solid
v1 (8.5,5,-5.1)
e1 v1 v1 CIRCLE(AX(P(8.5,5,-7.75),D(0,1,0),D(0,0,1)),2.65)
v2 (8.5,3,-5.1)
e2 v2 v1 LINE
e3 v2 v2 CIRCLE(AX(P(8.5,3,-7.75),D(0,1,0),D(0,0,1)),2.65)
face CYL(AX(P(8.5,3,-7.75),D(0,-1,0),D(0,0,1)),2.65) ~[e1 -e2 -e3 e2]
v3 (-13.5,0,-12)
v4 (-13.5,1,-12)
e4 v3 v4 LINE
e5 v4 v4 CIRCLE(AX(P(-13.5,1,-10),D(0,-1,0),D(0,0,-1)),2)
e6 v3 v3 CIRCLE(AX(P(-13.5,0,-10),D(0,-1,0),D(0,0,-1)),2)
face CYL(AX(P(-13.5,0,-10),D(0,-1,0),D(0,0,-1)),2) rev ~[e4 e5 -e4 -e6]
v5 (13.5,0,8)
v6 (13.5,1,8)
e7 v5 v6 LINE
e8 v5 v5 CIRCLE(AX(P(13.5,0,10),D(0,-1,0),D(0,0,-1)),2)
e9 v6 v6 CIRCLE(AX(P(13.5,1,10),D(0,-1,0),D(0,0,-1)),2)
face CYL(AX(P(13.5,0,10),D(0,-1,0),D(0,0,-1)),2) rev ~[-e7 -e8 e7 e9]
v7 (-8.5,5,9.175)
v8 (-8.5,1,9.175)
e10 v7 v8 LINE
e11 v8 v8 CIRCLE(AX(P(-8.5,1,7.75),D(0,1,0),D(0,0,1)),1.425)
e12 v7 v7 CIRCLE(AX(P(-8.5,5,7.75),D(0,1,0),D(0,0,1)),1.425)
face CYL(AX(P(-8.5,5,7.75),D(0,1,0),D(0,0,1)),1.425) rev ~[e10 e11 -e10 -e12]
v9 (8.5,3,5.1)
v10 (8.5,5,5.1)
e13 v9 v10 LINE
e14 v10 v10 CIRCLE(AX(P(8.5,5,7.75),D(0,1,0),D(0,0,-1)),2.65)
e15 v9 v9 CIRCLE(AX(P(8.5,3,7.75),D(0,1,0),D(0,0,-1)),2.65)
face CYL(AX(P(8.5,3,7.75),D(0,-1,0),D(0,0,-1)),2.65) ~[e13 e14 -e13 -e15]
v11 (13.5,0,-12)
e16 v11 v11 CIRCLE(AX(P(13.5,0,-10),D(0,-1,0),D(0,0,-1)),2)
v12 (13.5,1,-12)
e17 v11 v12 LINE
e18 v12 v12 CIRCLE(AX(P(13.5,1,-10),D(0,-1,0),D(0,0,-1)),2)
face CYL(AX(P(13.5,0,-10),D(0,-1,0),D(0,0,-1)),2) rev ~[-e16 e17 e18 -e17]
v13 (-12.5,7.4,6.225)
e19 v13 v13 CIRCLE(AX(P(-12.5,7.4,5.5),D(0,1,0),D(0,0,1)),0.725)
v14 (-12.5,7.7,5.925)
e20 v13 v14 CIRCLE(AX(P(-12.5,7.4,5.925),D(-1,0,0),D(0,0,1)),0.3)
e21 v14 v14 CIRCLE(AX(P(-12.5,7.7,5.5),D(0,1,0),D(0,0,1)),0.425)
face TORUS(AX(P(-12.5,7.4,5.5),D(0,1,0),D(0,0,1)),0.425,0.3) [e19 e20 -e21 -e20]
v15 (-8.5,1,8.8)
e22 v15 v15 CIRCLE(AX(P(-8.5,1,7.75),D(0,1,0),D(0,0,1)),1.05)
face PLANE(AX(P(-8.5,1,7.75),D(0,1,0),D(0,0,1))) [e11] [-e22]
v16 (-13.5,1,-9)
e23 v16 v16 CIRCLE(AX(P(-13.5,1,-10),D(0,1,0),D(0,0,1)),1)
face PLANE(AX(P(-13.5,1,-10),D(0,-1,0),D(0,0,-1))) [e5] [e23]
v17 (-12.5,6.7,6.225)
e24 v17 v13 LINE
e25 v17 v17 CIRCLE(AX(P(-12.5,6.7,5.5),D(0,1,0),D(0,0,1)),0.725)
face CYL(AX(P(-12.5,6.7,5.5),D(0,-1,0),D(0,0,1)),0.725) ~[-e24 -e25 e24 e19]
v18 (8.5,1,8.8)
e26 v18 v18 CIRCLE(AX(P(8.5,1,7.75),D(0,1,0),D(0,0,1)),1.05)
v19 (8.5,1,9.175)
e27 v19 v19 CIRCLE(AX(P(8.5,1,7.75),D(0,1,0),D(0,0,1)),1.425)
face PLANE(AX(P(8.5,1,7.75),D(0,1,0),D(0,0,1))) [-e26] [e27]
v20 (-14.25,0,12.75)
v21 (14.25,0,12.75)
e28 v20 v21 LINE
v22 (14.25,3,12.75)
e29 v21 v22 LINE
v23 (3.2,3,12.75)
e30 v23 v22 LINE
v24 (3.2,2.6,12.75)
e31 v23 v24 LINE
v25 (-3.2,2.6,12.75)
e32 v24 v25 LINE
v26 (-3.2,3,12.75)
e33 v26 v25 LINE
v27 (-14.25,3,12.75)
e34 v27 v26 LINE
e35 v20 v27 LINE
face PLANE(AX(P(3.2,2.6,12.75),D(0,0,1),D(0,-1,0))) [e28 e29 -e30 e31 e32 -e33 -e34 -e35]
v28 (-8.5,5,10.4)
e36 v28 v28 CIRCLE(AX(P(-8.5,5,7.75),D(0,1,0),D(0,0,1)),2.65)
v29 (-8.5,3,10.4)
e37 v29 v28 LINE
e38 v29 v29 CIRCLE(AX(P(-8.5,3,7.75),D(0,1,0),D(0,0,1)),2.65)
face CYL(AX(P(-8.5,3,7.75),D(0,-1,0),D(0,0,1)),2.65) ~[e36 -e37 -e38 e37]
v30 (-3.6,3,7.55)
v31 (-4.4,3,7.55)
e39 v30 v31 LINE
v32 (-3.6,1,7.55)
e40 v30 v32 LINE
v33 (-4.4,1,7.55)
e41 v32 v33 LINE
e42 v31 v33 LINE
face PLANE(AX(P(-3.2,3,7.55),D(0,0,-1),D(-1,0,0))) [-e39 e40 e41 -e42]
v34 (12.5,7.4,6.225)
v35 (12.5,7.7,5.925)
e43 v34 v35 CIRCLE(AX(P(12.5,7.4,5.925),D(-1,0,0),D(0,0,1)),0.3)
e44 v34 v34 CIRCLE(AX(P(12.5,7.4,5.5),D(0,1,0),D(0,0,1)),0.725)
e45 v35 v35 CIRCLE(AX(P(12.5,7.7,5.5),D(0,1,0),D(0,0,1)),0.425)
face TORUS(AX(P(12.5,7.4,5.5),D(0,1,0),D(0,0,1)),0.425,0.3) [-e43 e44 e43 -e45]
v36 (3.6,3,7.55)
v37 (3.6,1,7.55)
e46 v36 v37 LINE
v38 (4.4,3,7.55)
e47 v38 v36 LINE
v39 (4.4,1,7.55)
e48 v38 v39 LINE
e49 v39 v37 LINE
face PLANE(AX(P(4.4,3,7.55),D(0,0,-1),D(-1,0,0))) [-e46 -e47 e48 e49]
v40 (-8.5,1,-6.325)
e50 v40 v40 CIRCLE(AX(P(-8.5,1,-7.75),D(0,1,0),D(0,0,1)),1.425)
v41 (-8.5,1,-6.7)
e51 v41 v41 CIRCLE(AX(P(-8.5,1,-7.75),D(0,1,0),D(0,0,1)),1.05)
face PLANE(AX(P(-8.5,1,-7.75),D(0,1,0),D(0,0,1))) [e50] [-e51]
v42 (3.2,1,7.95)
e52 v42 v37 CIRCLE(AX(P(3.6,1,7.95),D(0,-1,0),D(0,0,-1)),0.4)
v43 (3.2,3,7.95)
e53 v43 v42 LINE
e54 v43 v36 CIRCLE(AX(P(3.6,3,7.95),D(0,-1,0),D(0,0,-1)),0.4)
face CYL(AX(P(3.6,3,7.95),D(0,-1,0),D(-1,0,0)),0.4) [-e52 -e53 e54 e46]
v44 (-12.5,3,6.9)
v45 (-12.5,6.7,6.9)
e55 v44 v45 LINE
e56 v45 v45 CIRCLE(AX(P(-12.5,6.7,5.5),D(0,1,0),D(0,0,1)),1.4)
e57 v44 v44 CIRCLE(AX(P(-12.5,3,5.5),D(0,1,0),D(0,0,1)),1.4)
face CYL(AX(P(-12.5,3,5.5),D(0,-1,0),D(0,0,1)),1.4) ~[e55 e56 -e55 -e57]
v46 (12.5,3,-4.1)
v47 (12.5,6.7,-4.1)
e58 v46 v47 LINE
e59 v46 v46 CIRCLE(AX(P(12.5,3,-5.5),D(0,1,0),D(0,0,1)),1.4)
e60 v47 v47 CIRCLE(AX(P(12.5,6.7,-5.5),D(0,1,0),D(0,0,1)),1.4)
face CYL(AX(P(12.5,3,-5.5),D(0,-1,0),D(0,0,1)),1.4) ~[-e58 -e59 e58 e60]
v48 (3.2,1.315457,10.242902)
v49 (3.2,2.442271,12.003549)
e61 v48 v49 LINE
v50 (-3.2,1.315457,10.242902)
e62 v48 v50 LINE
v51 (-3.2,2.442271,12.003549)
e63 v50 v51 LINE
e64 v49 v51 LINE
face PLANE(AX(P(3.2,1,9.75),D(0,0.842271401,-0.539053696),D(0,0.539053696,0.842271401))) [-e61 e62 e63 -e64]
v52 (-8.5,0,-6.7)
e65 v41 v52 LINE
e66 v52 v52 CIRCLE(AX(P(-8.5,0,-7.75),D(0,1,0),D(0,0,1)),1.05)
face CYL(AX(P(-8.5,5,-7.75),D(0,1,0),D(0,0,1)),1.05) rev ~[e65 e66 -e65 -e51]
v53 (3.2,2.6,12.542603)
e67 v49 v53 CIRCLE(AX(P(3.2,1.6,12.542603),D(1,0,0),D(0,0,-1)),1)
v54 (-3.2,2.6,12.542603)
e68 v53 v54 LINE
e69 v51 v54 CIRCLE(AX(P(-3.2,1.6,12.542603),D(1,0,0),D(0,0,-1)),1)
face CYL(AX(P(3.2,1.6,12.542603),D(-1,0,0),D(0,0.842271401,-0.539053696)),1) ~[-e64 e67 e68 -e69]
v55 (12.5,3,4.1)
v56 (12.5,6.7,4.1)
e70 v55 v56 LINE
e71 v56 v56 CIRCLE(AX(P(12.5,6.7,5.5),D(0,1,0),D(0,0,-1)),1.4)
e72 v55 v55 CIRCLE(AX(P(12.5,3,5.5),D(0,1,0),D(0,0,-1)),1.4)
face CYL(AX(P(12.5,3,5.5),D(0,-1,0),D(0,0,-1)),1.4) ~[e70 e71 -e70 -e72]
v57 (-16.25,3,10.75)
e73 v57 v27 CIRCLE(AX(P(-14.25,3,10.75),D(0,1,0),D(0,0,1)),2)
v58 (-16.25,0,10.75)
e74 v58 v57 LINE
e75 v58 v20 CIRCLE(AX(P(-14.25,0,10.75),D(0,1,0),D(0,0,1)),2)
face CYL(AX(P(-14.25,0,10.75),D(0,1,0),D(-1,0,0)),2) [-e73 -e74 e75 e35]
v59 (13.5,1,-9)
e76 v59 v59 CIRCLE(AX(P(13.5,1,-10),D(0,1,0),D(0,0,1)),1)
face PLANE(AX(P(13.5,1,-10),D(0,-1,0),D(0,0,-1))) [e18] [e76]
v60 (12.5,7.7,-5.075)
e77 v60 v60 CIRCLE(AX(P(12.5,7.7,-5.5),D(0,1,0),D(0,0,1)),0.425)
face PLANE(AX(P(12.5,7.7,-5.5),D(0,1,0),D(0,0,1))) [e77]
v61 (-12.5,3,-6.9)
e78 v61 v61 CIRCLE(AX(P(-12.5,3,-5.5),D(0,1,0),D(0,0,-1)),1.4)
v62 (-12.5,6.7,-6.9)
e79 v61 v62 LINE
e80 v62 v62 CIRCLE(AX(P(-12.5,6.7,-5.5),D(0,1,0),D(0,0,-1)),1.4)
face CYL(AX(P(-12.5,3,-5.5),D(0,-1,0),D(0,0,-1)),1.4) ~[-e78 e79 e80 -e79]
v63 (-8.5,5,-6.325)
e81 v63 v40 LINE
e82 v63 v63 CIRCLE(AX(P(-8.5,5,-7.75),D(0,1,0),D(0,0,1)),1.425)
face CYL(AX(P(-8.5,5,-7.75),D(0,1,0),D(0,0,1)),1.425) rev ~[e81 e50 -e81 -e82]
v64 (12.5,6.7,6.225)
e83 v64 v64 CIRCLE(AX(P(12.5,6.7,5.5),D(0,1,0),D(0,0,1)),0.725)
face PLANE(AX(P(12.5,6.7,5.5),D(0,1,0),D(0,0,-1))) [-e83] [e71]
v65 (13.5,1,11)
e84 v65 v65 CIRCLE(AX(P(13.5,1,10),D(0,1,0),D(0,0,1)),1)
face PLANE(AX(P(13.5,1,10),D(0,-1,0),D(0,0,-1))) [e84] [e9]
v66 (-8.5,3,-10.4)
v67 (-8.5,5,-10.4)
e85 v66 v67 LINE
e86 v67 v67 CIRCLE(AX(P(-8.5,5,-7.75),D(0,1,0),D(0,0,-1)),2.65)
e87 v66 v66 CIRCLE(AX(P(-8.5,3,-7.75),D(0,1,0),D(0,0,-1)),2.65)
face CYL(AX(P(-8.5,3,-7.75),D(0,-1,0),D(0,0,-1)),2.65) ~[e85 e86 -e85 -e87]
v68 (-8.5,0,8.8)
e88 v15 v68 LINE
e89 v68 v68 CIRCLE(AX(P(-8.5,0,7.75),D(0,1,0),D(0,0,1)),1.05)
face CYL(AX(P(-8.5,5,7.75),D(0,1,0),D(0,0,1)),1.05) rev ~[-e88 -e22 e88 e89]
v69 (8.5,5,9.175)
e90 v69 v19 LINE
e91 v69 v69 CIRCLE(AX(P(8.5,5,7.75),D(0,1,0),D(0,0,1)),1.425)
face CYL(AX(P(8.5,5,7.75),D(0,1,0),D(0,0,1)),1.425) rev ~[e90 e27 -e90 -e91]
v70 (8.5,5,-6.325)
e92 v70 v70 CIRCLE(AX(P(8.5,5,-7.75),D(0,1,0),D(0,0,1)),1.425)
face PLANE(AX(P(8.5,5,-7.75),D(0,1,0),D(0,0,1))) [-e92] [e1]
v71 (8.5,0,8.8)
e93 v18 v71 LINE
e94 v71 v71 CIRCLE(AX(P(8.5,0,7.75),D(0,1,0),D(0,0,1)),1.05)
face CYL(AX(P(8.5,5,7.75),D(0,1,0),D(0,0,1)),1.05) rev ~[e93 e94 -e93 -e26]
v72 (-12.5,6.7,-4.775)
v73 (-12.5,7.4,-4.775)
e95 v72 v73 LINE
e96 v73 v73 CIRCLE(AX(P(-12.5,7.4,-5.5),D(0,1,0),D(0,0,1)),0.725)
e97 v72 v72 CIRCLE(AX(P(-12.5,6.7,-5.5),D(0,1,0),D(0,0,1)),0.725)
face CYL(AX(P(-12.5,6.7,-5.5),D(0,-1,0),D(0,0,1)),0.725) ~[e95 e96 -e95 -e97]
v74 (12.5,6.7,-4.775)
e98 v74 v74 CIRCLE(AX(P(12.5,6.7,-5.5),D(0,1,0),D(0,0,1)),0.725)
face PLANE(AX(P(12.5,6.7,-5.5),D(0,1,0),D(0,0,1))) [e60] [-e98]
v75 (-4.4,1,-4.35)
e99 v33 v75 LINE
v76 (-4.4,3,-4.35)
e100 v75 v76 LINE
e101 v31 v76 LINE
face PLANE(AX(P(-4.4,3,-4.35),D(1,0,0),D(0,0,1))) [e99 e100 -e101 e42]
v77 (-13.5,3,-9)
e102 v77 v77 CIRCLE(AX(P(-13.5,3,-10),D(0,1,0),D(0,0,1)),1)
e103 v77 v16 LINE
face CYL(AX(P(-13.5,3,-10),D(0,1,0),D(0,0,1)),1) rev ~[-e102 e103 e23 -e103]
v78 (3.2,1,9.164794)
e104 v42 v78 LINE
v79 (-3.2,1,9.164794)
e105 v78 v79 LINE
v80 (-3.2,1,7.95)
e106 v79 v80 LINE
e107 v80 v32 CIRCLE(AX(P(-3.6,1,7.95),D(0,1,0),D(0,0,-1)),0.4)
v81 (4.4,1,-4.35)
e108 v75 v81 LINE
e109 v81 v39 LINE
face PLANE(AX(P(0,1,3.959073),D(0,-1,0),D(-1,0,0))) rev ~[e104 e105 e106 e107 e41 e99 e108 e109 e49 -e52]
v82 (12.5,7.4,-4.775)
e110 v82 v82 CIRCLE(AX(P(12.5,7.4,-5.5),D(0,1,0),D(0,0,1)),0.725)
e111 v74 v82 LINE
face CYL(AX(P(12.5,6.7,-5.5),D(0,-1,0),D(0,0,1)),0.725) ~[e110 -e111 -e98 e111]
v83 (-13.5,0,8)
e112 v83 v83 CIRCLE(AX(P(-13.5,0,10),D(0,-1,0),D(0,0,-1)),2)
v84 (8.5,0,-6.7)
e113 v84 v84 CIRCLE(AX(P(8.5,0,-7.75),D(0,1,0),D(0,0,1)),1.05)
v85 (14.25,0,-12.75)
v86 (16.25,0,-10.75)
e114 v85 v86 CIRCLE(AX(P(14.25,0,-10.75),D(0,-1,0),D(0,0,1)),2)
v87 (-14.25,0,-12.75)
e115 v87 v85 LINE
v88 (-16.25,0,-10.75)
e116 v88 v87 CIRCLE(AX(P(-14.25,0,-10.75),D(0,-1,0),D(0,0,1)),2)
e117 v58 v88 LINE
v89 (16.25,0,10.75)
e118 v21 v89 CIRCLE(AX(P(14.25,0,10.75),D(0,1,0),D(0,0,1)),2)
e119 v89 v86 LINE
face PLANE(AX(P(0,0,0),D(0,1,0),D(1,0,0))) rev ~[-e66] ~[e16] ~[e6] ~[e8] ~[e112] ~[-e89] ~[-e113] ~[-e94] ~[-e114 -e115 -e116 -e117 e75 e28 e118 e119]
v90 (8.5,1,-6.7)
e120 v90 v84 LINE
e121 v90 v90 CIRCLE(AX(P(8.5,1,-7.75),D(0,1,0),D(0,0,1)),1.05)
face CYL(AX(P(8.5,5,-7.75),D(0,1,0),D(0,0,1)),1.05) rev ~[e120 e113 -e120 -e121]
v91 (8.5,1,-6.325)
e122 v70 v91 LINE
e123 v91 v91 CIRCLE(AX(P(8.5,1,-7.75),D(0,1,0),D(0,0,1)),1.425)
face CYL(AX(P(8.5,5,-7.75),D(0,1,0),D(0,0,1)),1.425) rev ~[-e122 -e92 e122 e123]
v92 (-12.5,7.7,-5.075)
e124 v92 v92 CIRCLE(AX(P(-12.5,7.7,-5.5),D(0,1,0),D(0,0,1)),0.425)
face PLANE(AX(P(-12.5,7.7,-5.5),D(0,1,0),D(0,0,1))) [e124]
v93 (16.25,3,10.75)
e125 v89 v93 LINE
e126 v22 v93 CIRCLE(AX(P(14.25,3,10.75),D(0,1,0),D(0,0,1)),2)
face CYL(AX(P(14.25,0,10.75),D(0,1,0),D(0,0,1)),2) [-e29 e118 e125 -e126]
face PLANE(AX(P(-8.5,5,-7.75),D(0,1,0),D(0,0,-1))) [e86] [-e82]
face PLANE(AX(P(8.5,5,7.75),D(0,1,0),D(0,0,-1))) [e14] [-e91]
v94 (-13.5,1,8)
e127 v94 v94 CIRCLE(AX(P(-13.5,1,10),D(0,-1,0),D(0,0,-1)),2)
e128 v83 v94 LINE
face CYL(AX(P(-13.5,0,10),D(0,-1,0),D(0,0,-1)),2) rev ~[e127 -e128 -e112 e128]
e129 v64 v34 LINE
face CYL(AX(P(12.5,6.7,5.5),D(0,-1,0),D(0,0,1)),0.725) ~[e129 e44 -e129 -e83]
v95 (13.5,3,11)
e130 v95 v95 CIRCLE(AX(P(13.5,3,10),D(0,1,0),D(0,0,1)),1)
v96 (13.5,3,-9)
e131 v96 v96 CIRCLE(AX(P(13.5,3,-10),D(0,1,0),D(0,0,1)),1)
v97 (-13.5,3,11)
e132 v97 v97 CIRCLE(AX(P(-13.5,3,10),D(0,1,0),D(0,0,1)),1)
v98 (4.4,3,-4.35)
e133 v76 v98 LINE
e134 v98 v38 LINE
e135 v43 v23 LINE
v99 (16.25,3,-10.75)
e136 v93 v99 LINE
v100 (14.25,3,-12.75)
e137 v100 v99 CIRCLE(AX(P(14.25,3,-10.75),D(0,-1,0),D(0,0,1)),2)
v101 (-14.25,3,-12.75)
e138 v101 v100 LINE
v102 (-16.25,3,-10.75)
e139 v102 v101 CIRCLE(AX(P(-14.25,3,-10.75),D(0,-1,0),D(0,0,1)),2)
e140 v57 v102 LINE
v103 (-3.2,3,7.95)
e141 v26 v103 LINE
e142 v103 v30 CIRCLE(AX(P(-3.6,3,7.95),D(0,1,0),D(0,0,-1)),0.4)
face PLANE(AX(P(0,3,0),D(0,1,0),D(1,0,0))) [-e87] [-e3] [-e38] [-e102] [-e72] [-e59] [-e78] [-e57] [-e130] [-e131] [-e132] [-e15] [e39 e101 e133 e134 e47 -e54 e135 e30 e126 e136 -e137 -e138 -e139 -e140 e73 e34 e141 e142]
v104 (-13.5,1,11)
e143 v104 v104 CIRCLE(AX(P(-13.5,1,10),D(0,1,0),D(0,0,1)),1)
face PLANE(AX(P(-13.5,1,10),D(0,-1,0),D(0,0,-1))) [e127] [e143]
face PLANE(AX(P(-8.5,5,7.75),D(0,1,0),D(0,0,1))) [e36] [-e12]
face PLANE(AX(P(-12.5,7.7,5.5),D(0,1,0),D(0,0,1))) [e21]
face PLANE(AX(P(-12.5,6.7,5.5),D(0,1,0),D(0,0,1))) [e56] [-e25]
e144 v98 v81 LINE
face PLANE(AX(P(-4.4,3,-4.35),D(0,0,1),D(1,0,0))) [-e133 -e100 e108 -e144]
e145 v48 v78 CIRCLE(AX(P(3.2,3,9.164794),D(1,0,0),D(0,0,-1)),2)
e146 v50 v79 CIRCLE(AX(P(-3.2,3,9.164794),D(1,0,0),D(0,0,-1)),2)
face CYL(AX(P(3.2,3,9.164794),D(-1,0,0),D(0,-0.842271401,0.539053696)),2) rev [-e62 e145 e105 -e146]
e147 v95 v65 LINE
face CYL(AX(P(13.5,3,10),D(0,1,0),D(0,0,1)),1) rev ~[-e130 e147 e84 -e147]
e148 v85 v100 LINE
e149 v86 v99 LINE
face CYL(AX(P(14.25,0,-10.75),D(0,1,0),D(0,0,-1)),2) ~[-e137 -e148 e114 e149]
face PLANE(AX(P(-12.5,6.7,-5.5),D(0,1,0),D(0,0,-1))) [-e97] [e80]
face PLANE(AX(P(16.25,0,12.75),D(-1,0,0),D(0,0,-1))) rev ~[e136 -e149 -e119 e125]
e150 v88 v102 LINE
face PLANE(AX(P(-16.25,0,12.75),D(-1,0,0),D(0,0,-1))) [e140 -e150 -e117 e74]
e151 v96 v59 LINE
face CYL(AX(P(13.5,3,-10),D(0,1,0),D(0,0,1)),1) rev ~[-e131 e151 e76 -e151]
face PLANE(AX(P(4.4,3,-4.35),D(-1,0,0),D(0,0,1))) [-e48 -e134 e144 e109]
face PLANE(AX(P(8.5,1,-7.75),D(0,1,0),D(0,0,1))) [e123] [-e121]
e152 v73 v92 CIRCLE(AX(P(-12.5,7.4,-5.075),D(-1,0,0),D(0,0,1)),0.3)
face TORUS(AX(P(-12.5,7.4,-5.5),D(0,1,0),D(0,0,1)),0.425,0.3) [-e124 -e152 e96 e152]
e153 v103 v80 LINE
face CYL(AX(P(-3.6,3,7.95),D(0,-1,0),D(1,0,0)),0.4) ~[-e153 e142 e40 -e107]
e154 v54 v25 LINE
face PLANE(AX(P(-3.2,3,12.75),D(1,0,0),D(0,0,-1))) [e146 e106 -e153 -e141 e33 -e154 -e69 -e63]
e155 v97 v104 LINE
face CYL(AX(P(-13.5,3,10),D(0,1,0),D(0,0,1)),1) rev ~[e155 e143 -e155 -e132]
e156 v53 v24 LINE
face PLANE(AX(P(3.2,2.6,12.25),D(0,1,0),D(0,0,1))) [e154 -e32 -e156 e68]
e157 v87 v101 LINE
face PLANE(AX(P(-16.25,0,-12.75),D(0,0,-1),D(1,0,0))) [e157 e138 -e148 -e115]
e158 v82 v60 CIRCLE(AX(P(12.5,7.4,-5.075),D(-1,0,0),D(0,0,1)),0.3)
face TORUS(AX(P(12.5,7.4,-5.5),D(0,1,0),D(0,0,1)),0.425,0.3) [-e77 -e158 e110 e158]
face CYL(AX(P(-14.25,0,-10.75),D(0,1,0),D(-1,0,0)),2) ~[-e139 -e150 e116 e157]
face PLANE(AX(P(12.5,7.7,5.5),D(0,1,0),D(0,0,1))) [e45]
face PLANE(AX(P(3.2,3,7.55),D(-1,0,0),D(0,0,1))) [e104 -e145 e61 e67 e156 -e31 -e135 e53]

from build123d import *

# Parameters (mm, degrees)
SKETCH_1_W          = 32.5
SKETCH_1_H          = 25.5
EXTRUDE_1_DEPTH     = 3
EXTRUDE_2_DEPTH     = 1.5
SKETCH_5_R          = 1.4
EXTRUDE_3_DEPTH     = 3.7
SKETCH_6_R          = 0.725
EXTRUDE_4_DEPTH     = 1
SKETCH_7_R          = 1
CUT_EXTRUDE_1_DEPTH = 10
SKETCH_8_R          = 2
CUT_EXTRUDE_2_DEPTH = 1
FILLET_1_R          = 2
SKETCH_9_R          = 2.65
EXTRUDE_5_DEPTH     = 2
SKETCH_11_R         = 1.05
CUT_EXTRUDE_4_DEPTH = 100
SKETCH_12_R         = 1.425
CUT_EXTRUDE_5_DEPTH = 4
FILLET_2_R          = 0.3
CUT_EXTRUDE_8_DEPTH = 2
CUT_EXTRUDE_9_DEPTH = 1.5
EXTRUDE_6_DEPTH     = 6.4
FILLET_3_R          = 2
FILLET_5_R          = 1
FILLET_6_R          = 0.4


with BuildPart() as part:
    # 草图1 → 凸台-拉伸1 (new body)
    with BuildSketch(Plane(origin=(0, 0, 0), x_dir=(1, 0, 0), z_dir=(0, 1, 0))):
        Rectangle(SKETCH_1_W, SKETCH_1_H)
    extrude(amount=EXTRUDE_1_DEPTH)

    # 草图2 → 凸台-拉伸2 (add)
    with BuildSketch(Plane(origin=(0, 3, 0), x_dir=(1, 0, 0), z_dir=(0, 1, 0))):
        Polygon((-5.4, 5.35), (5.4, 5.35), (5.4, -7.55), (4.4, -7.55), (4.4, 4.35), (-4.4, 4.35), (-4.4, -7.55), (-5.4, -7.55), align=None)
    extrude(amount=EXTRUDE_2_DEPTH)

    # 草图5 → 凸台-拉伸3 (add)
    with BuildSketch(Plane(origin=(0, 3, 0), x_dir=(1, 0, 0), z_dir=(0, 1, 0))):
        with Locations(Location((12.5, 5.5, 0), (0, 0, 270))):
            Circle(SKETCH_5_R)
        with Locations(Location((12.5, -5.5, 0), (0, 0, 90))):
            Circle(SKETCH_5_R)
        with Locations(Location((-12.5, -5.5, 0), (0, 0, 270))):
            Circle(SKETCH_5_R)
        with Locations(Location((-12.5, 5.5, 0), (0, 0, 90))):
            Circle(SKETCH_5_R)
    extrude(amount=EXTRUDE_3_DEPTH)

    # 草图6 → 凸台-拉伸4 (add)
    with BuildSketch(Plane(origin=(0, 6.7, 0), x_dir=(1, 0, 0), z_dir=(0, 1, 0))):
        with Locations(Location((-12.5, -5.5, 0), (0, 0, 270))):
            Circle(SKETCH_6_R)
        with Locations(Location((-12.5, 5.5, 0), (0, 0, 270))):
            Circle(SKETCH_6_R)
        with Locations(Location((12.5, 5.5, 0), (0, 0, 270))):
            Circle(SKETCH_6_R)
        with Locations(Location((12.5, -5.5, 0), (0, 0, 270))):
            Circle(SKETCH_6_R)
    extrude(amount=EXTRUDE_4_DEPTH)

    # 草图7 → 切除-拉伸1 (cut)
    with BuildSketch(Plane(origin=(0, 3, 0), x_dir=(1, 0, 0), z_dir=(0, 1, 0))):
        with Locations(Location((13.5, 10, 0), (0, 0, 270))):
            Circle(SKETCH_7_R)
        with Locations(Location((-13.5, 10, 0), (0, 0, 270))):
            Circle(SKETCH_7_R)
        with Locations(Location((-13.5, -10, 0), (0, 0, 270))):
            Circle(SKETCH_7_R)
        with Locations(Location((13.5, -10, 0), (0, 0, 270))):
            Circle(SKETCH_7_R)
    extrude(amount=-CUT_EXTRUDE_1_DEPTH, mode=Mode.SUBTRACT)

    # 草图8 → 切除-拉伸2 (cut)
    with BuildSketch(Plane.XZ):
        with Locations(Location((-13.5, 10, 0), (0, 0, 270))):
            Circle(SKETCH_8_R)
        with Locations(Location((13.5, 10, 0), (0, 0, 270))):
            Circle(SKETCH_8_R)
        with Locations(Location((13.5, -10, 0), (0, 0, 270))):
            Circle(SKETCH_8_R)
        with Locations(Location((-13.5, -10, 0), (0, 0, 270))):
            Circle(SKETCH_8_R)
    extrude(amount=-CUT_EXTRUDE_2_DEPTH, mode=Mode.SUBTRACT)

    # 圆角1
    fillet_1_edges = [part.edges().sort_by_distance(p)[0] for p in [
        (16.25, 1.5, 12.75),
        (-16.25, 1.5, 12.75),
        (-16.25, 1.5, -12.75),
        (16.25, 1.5, -12.75),
    ]]
    fillet(fillet_1_edges, radius=FILLET_1_R)

    # 草图9 → 凸台-拉伸5 (add)
    with BuildSketch(Plane(origin=(0, 3, 0), x_dir=(1, 0, 0), z_dir=(0, 1, 0))):
        with Locations(Location((8.5, 7.75, 0), (0, 0, 270))):
            Circle(SKETCH_9_R)
        with Locations(Location((-8.5, 7.75, 0), (0, 0, 90))):
            Circle(SKETCH_9_R)
        with Locations(Location((-8.5, -7.75, 0), (0, 0, 270))):
            Circle(SKETCH_9_R)
        with Locations(Location((8.5, -7.75, 0), (0, 0, 90))):
            Circle(SKETCH_9_R)
    extrude(amount=EXTRUDE_5_DEPTH)

    # 草图11 → 切除-拉伸4 (cut)
    with BuildSketch(Plane(origin=(0, 5, 0), x_dir=(1, 0, 0), z_dir=(0, 1, 0))):
        with Locations(Location((-8.5, 7.75, 0), (0, 0, 270))):
            Circle(SKETCH_11_R)
        with Locations(Location((-8.5, -7.75, 0), (0, 0, 270))):
            Circle(SKETCH_11_R)
        with Locations(Location((8.5, -7.75, 0), (0, 0, 270))):
            Circle(SKETCH_11_R)
        with Locations(Location((8.5, 7.75, 0), (0, 0, 270))):
            Circle(SKETCH_11_R)
    extrude(amount=-CUT_EXTRUDE_4_DEPTH, mode=Mode.SUBTRACT)

    # 草图12 → 切除-拉伸5 (cut)
    with BuildSketch(Plane(origin=(0, 5, 0), x_dir=(1, 0, 0), z_dir=(0, 1, 0))):
        with Locations(Location((-8.5, 7.75, 0), (0, 0, 270))):
            Circle(SKETCH_12_R)
        with Locations(Location((8.5, 7.75, 0), (0, 0, 270))):
            Circle(SKETCH_12_R)
        with Locations(Location((-8.5, -7.75, 0), (0, 0, 270))):
            Circle(SKETCH_12_R)
        with Locations(Location((8.5, -7.75, 0), (0, 0, 270))):
            Circle(SKETCH_12_R)
    extrude(amount=-CUT_EXTRUDE_5_DEPTH, mode=Mode.SUBTRACT)

    # 圆角2
    fillet_2_edges = [part.edges().sort_by_distance(p)[0] for p in [
        (-12.5, 7.7, 4.775),
        (-12.5, 7.7, -6.225),
        (12.5, 7.7, -6.225),
        (12.5, 7.7, 4.775),
    ]]
    fillet(fillet_2_edges, radius=FILLET_2_R)

    # 草图15 → 切除-拉伸8 (cut)
    with BuildSketch(Plane(origin=(0, 3, 0), x_dir=(1, 0, 0), z_dir=(0, 1, 0))):
        Polygon((-4.4, 4.35), (4.4, 4.35), (4.4, -7.55), (3.2, -7.55), (3.2, -12.75), (-3.2, -12.75), (-3.2, -7.55), (-4.4, -7.55), align=None)
    extrude(amount=-CUT_EXTRUDE_8_DEPTH, mode=Mode.SUBTRACT)

    # 草图17 → 切除-拉伸9 (cut)
    with BuildSketch(Plane(origin=(0, 4.5, 0), x_dir=(1, 0, 0), z_dir=(0, 1, 0))):
        Polygon((-4.4, -7.55), (-4.4, 4.35), (4.4, 4.35), (4.4, -7.55), (5.4, -7.55), (5.4, 5.35), (-5.4, 5.35), (-5.4, -7.55), align=None)
    extrude(amount=-CUT_EXTRUDE_9_DEPTH, mode=Mode.SUBTRACT)

    # 草图18 → 凸台-拉伸6 (add)
    with BuildSketch(Plane.ZY.offset(-3.2)):
        Polygon((12.75, 1), (9.75, 1), (12.25, 2.6), (12.75, 2.6), align=None)
    extrude(amount=EXTRUDE_6_DEPTH)

    # 圆角3
    fillet_3_edges = [part.edges().sort_by_distance(p)[0] for p in [
        (0, 1, 9.75),
    ]]
    fillet(fillet_3_edges, radius=FILLET_3_R)

    # 圆角5
    fillet_5_edges = [part.edges().sort_by_distance(p)[0] for p in [
        (0, 2.6, 12.25),
    ]]
    fillet(fillet_5_edges, radius=FILLET_5_R)

    # 圆角6
    fillet_6_edges = [part.edges().sort_by_distance(p)[0] for p in [
        (3.2, 2, 7.55),
        (-3.2, 2, 7.55),
    ]]
    fillet(fillet_6_edges, radius=FILLET_6_R)


solid = part.part
